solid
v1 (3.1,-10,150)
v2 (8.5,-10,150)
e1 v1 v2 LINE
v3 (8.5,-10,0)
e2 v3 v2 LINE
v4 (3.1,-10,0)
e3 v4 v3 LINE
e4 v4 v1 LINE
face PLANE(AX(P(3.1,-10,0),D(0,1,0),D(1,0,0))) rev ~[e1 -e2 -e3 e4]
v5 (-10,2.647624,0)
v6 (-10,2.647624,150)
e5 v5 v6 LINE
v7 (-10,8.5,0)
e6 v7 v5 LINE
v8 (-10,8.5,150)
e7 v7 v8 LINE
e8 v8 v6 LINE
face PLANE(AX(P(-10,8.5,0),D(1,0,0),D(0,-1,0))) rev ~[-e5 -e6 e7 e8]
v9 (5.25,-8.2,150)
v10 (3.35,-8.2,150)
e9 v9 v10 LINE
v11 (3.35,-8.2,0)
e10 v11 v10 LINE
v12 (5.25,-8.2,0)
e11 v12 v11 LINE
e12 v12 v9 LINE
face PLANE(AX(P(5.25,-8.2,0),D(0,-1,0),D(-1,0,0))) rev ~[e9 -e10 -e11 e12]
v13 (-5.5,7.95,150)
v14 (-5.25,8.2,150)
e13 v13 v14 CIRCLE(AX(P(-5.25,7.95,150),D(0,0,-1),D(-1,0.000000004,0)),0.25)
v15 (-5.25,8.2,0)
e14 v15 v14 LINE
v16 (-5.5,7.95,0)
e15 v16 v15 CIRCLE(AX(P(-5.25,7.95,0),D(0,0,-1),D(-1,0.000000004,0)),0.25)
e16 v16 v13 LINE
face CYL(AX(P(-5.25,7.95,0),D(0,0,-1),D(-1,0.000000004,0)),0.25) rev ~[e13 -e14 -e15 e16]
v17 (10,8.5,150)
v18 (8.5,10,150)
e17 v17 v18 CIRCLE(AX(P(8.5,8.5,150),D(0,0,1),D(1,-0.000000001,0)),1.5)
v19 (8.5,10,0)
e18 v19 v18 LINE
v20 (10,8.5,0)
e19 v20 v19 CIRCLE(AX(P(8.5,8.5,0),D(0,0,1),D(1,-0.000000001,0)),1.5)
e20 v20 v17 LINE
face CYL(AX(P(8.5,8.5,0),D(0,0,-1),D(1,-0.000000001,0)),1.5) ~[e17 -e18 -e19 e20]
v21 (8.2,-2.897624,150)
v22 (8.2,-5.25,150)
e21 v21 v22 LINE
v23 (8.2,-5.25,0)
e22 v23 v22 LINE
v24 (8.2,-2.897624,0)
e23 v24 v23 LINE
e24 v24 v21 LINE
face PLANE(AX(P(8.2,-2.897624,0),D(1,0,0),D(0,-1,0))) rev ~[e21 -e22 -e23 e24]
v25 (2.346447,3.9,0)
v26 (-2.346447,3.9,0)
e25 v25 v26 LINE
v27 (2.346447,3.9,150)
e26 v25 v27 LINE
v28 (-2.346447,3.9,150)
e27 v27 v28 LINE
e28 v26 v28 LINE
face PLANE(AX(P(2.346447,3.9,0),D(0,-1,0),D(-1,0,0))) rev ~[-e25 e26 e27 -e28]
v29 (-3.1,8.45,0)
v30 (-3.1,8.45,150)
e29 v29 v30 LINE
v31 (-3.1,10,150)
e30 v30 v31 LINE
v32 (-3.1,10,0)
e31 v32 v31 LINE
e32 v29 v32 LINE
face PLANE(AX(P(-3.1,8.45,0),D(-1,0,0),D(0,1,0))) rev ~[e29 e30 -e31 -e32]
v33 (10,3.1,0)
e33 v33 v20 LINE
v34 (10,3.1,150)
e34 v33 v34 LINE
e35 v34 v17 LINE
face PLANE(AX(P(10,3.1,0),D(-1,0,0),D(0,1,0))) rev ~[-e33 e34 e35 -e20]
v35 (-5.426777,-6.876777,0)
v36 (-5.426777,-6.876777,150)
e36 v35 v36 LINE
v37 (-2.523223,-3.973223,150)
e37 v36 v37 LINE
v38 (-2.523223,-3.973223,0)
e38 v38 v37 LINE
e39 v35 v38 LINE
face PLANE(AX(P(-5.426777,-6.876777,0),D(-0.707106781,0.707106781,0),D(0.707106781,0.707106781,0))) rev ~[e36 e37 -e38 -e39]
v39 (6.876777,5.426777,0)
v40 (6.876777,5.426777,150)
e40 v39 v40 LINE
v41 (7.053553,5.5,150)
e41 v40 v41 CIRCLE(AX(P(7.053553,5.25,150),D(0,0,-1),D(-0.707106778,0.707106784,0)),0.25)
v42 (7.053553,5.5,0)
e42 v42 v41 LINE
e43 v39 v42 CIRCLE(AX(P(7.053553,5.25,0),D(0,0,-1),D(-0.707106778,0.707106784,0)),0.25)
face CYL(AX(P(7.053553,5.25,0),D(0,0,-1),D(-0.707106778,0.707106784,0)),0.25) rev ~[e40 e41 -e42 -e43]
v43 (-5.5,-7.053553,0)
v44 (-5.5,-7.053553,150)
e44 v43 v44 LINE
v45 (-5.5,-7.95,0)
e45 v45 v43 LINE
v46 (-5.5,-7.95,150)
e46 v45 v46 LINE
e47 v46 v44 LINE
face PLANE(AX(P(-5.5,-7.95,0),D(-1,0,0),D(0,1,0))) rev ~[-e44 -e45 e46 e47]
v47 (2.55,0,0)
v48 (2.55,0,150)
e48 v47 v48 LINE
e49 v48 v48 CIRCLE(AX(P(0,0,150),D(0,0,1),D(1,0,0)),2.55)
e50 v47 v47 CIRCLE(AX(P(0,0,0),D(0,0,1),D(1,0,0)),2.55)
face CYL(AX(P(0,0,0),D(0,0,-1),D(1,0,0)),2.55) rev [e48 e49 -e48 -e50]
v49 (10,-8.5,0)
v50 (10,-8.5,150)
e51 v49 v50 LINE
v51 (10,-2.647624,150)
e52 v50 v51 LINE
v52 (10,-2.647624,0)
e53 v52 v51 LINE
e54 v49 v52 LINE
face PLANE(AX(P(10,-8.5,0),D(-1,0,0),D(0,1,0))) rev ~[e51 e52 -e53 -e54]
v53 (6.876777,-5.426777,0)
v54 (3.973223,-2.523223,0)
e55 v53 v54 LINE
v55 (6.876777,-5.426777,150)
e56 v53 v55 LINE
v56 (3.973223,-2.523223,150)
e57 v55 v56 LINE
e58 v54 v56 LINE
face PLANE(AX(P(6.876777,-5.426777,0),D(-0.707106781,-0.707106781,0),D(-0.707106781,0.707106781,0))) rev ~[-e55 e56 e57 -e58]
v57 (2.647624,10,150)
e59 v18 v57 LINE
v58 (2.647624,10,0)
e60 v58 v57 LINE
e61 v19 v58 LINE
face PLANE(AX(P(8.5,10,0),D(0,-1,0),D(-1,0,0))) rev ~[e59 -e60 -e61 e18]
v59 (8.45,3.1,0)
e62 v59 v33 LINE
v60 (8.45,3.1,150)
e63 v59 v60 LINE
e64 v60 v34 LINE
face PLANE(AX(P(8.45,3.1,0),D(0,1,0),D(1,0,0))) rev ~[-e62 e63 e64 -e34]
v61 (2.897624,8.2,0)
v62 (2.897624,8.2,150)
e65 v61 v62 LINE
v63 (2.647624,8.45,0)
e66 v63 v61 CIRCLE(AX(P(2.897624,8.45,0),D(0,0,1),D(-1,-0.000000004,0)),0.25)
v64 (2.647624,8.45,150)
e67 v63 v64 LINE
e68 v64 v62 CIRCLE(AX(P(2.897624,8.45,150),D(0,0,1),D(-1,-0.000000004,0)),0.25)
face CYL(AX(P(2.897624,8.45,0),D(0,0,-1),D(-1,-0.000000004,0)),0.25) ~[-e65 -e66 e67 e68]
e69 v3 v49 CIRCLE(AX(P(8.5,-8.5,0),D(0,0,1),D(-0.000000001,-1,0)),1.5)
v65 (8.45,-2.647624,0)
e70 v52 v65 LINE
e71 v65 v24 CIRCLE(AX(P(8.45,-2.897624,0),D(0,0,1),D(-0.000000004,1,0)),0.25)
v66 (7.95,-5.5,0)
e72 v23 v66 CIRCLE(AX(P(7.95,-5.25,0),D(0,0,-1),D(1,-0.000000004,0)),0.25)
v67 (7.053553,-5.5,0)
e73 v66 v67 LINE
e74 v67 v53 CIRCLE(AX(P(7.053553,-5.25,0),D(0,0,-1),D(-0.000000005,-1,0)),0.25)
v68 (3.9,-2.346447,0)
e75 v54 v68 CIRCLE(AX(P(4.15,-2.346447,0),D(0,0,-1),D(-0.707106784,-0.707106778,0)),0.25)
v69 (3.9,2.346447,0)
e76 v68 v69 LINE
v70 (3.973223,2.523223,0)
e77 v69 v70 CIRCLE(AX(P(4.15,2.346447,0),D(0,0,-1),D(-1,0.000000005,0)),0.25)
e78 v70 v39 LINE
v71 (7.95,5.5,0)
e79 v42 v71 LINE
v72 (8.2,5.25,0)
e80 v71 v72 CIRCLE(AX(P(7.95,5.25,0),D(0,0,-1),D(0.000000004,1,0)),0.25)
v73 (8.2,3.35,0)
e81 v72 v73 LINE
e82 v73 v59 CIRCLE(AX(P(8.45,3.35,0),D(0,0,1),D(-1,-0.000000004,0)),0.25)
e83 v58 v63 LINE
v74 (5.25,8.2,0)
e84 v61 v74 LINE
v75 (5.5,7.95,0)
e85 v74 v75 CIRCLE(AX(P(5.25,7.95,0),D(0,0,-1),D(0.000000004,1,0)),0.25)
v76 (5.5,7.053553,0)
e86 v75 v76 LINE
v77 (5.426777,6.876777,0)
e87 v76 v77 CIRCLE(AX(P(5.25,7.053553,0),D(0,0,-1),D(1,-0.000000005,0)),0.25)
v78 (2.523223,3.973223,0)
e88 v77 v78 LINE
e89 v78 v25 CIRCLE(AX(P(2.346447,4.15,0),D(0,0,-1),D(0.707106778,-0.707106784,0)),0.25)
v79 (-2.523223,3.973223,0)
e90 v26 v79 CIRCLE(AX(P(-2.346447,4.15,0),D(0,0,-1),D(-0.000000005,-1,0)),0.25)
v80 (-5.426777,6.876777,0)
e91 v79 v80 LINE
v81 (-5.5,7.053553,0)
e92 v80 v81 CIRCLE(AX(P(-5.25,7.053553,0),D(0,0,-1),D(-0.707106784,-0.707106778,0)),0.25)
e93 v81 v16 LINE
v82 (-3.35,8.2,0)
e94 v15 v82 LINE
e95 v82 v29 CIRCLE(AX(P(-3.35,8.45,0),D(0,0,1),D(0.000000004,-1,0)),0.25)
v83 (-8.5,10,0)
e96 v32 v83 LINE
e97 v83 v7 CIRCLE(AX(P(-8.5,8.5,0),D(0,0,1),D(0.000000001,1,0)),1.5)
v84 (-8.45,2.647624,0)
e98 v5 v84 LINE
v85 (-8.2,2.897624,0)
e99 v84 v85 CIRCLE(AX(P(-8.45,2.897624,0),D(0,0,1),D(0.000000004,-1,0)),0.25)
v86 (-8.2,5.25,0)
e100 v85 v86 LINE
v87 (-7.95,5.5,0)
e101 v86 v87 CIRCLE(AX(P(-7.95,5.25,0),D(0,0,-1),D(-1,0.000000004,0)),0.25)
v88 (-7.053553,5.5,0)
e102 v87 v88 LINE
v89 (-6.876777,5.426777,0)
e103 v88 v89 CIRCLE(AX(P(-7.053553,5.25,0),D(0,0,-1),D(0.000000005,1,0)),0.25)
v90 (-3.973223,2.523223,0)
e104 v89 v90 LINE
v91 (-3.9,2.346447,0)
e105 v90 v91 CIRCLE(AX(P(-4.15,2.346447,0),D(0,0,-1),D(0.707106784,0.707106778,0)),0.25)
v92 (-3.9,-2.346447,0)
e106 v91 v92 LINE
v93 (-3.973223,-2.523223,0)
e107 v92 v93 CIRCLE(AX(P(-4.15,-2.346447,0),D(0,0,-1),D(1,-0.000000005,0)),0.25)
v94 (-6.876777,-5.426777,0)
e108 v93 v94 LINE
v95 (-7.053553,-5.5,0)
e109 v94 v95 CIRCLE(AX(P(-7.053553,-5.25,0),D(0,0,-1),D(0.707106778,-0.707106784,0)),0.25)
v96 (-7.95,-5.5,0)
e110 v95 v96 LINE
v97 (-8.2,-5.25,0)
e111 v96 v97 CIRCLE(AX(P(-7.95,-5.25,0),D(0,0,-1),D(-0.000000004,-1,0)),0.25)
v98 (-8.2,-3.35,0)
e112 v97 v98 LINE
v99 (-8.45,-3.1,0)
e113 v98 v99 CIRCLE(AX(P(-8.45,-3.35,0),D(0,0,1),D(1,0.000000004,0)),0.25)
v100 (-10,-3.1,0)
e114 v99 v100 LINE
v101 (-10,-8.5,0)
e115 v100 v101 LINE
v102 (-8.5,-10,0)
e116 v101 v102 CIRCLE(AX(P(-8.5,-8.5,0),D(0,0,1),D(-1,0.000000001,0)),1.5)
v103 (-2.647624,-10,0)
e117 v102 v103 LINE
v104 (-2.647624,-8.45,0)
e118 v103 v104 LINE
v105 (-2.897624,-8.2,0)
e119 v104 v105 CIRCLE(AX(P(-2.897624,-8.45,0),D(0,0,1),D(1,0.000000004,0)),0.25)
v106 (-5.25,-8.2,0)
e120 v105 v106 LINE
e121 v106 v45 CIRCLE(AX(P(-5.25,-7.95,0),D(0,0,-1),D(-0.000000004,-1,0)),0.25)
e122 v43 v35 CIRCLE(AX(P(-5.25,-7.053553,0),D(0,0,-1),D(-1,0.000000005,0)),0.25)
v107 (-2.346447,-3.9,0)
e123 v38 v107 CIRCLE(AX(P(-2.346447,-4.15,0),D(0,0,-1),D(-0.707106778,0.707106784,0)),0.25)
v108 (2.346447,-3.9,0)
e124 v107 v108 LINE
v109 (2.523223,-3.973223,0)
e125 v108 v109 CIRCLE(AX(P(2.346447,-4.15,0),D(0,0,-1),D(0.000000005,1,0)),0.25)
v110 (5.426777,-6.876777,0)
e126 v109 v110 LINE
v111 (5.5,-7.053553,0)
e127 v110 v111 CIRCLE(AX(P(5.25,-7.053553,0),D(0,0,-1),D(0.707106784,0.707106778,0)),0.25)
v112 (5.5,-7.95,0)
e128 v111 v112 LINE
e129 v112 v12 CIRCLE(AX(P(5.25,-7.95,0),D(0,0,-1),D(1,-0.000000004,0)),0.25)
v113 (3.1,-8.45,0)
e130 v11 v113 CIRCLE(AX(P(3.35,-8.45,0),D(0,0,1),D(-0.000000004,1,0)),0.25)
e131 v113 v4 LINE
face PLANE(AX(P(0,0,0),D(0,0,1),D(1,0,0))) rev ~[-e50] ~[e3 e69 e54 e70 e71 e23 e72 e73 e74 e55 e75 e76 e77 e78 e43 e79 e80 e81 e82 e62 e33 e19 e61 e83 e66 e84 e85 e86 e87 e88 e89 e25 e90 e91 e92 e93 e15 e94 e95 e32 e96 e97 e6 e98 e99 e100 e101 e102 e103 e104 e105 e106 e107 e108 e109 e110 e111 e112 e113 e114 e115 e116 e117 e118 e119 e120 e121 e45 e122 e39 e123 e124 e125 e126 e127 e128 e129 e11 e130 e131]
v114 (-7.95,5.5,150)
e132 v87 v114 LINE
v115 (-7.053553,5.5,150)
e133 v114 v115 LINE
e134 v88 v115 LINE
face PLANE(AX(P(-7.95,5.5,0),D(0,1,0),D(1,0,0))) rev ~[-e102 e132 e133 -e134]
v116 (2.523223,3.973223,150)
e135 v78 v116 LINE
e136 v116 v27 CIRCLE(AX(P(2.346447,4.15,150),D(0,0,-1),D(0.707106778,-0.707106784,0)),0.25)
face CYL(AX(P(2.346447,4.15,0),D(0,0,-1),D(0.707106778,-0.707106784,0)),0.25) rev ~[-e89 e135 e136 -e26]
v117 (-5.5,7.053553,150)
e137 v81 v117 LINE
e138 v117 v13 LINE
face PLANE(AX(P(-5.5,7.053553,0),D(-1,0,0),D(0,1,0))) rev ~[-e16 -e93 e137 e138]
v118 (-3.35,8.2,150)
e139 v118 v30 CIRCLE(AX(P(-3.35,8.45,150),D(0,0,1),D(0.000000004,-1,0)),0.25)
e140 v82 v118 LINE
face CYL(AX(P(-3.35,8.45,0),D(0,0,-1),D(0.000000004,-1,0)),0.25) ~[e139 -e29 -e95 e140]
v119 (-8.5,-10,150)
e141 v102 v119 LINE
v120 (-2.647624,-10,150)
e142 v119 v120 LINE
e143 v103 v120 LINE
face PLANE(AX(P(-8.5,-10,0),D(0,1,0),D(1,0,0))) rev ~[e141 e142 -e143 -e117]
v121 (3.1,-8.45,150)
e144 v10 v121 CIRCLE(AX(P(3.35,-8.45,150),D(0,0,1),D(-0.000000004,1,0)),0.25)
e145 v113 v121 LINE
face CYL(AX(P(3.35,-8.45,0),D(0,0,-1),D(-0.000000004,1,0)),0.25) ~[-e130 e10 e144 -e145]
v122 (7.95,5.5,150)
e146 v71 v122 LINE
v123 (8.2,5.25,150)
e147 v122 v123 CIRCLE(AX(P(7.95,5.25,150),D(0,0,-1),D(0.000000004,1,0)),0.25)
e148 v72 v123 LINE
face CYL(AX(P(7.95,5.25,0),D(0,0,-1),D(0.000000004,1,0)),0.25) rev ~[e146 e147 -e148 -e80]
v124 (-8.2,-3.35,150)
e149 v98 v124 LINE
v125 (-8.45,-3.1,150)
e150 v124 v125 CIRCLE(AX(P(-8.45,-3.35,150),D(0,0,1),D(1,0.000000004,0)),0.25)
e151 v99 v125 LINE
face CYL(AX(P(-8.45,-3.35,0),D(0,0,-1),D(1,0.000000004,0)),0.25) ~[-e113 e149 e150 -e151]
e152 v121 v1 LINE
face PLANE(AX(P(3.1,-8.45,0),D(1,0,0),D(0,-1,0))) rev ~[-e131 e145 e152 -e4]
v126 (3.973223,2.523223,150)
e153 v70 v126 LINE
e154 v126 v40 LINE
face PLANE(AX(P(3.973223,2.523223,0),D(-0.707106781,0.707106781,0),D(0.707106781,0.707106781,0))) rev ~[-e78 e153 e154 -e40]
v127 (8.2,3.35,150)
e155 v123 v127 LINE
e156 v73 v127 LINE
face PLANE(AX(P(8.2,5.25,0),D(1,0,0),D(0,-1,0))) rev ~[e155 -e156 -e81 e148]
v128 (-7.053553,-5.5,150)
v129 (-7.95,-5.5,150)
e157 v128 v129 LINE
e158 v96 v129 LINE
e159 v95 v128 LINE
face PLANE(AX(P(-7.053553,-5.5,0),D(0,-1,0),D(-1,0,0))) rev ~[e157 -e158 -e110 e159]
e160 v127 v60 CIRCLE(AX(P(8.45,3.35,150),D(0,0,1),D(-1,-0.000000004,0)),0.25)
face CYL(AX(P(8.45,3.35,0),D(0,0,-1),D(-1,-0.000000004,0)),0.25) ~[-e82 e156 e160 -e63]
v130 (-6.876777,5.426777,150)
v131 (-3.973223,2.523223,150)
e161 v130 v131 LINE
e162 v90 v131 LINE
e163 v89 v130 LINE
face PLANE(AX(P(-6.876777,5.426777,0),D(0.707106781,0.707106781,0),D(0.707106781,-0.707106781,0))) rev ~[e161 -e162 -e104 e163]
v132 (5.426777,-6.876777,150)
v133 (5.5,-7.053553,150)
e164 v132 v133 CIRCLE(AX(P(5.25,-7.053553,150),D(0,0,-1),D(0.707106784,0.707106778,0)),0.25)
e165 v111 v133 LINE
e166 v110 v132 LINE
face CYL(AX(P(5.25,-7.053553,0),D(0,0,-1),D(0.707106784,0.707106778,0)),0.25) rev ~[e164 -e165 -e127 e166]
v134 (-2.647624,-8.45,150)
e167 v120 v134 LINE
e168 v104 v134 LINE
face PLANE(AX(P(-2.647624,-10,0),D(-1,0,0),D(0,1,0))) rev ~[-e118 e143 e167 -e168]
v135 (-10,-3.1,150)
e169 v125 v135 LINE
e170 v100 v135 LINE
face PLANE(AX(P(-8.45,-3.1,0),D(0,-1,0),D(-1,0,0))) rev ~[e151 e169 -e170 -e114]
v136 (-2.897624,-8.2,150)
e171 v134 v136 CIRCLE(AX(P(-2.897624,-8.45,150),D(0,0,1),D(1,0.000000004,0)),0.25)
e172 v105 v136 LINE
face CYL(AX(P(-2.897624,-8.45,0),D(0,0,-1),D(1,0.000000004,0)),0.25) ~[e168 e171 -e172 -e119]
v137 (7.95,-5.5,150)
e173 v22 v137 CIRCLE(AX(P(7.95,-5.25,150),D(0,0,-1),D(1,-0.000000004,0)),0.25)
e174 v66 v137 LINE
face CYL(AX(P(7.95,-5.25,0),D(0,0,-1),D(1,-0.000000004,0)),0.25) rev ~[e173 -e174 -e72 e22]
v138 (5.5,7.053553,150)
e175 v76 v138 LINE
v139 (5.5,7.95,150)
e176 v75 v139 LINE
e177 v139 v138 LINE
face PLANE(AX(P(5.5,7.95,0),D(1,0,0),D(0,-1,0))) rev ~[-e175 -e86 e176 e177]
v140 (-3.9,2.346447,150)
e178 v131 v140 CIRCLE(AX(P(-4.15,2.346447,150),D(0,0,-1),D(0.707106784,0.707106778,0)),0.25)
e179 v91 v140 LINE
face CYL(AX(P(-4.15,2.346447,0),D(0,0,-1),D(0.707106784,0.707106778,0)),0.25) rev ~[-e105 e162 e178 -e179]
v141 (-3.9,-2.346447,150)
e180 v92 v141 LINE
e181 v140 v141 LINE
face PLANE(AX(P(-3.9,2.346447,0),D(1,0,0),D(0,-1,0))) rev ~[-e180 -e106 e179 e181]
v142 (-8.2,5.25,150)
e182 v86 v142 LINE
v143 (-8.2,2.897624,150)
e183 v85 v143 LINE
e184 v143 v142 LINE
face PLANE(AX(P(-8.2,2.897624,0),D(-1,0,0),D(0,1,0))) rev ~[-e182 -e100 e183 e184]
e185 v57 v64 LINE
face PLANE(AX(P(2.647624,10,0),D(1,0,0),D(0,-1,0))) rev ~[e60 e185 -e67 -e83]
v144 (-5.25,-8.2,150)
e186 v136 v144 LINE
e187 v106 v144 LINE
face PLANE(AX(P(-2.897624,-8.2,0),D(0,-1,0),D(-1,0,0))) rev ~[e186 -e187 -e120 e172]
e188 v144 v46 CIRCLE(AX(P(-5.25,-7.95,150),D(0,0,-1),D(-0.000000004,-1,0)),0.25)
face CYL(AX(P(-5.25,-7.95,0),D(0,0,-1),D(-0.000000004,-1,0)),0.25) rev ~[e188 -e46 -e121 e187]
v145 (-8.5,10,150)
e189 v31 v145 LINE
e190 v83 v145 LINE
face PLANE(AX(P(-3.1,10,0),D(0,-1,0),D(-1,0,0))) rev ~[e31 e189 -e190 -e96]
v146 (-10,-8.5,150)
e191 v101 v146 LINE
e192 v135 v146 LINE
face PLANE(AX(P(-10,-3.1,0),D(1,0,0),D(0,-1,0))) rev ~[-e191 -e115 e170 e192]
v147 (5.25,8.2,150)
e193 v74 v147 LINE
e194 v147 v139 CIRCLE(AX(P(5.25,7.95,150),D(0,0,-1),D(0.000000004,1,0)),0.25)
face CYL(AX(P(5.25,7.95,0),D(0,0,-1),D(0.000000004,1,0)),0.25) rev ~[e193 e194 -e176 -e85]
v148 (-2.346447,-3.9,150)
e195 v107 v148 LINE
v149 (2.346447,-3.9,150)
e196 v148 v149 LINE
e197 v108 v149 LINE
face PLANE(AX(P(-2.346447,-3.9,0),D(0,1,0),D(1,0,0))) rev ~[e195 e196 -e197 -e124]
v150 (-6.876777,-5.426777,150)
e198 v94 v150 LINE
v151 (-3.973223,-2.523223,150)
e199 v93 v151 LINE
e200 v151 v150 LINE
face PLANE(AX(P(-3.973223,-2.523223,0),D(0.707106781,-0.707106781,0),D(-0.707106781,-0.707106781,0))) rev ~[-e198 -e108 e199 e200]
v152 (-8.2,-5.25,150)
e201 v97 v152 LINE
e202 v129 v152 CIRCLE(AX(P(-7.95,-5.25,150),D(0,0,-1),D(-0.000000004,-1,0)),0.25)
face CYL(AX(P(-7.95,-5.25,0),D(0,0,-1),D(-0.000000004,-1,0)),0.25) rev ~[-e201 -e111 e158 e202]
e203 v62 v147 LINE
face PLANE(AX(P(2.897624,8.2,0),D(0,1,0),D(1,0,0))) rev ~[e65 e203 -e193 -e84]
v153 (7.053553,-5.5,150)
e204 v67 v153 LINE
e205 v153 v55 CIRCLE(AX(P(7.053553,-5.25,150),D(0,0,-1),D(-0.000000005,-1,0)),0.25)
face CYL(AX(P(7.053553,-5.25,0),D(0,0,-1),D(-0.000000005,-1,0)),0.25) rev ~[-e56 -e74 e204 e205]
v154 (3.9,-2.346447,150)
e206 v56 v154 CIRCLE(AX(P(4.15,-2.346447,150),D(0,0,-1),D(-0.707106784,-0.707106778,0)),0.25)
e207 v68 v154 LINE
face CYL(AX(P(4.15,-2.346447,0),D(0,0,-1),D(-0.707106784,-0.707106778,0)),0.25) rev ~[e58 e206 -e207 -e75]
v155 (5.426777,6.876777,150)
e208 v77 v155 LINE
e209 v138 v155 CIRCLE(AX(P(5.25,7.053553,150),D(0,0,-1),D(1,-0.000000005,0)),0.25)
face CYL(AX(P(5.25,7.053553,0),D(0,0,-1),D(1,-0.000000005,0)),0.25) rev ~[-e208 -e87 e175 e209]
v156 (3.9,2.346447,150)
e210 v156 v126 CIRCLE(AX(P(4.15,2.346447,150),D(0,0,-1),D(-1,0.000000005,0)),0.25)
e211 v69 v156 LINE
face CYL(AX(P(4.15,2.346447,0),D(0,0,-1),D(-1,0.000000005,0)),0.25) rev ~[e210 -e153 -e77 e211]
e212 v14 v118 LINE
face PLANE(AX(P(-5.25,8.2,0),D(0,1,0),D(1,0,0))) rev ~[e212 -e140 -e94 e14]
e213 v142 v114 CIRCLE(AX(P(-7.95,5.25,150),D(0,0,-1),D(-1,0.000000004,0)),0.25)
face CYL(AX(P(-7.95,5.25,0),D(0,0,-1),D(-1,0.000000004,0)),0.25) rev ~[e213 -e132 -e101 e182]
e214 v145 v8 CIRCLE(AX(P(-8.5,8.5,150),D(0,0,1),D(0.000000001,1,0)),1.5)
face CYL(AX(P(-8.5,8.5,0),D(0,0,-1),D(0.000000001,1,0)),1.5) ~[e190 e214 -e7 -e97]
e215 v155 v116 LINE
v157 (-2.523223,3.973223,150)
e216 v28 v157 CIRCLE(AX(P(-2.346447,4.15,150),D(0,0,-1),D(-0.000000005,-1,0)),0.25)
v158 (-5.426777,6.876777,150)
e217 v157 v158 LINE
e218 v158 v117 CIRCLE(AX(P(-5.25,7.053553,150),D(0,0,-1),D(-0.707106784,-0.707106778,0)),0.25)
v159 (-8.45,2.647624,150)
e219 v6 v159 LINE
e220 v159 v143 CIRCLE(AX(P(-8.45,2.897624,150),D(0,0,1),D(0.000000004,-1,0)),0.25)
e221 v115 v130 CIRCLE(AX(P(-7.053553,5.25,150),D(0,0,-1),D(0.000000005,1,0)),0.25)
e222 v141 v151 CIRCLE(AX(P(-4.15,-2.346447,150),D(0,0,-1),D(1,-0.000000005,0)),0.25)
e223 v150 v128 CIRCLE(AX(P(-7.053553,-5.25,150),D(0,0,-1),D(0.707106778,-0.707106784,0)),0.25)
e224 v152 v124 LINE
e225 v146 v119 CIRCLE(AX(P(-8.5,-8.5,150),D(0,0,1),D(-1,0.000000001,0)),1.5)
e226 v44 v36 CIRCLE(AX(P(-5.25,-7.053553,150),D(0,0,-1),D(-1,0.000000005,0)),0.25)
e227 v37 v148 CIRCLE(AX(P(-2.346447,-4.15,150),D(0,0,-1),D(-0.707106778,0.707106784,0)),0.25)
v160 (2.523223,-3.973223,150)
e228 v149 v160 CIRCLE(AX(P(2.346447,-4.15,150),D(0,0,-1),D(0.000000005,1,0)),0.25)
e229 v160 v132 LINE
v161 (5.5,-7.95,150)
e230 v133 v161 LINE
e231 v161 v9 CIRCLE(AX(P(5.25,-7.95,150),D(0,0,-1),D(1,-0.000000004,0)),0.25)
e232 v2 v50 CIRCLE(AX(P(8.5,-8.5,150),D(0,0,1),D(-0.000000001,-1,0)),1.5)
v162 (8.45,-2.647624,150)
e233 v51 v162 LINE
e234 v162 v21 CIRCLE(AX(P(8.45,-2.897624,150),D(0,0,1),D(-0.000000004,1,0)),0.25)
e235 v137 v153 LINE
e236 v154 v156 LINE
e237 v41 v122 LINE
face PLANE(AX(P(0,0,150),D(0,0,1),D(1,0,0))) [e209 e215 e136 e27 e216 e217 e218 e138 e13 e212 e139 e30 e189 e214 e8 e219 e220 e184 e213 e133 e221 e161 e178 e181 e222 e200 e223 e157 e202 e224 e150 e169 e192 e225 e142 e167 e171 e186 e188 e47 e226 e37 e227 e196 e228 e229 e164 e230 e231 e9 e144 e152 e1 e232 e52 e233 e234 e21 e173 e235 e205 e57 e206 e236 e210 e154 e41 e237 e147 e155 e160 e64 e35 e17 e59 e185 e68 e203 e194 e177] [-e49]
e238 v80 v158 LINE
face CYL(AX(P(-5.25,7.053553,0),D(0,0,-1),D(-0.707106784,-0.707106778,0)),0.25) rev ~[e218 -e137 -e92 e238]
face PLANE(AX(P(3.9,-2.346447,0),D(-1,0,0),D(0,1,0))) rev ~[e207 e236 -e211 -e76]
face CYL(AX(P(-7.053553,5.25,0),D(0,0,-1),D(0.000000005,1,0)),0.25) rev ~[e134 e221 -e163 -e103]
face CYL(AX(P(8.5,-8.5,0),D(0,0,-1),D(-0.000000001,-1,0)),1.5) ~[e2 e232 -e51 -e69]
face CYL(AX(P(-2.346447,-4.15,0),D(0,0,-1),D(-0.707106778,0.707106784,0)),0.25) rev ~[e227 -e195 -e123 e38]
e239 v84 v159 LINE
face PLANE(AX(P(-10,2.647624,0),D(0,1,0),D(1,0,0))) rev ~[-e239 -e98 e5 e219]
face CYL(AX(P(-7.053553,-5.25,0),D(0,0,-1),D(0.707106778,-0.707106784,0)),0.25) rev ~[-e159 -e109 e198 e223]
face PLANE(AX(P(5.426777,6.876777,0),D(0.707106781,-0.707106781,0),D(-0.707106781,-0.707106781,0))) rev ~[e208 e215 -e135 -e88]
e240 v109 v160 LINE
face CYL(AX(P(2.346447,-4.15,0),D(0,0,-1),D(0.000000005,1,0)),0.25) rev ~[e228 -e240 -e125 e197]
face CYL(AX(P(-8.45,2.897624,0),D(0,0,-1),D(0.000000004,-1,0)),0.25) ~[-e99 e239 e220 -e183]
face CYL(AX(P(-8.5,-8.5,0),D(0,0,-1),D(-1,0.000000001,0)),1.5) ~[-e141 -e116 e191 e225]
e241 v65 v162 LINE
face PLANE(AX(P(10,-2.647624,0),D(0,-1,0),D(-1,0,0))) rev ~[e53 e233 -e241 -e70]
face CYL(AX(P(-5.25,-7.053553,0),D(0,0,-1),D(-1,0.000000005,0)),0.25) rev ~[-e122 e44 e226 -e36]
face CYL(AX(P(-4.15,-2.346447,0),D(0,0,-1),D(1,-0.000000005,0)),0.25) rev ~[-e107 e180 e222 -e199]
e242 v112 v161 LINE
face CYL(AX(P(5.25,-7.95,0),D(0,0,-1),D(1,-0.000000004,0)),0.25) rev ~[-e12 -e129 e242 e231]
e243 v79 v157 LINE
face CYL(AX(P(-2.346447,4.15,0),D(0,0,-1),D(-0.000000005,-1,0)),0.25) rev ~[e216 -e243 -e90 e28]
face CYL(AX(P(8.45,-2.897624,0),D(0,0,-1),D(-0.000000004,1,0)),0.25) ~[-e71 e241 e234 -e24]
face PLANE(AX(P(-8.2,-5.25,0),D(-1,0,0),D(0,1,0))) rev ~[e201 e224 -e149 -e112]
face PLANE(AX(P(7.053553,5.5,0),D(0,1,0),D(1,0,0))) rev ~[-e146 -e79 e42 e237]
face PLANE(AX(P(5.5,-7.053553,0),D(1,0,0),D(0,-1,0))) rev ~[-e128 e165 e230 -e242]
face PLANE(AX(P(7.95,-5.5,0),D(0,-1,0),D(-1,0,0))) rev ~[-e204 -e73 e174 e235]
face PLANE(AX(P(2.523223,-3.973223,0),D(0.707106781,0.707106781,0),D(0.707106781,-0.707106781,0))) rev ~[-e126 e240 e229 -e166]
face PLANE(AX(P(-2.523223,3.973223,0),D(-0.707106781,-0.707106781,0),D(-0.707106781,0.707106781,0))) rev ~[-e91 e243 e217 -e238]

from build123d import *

# Parameters (mm, degrees)
SKETCH1_R           = 2.55
BOSS_EXTRUDE1_DEPTH = 150


with BuildPart() as part:
    # Sketch1 → Boss-Extrude1 (new body)
    with BuildSketch(Plane.XY):
        with BuildLine():
            Line((-8.5, -10), (-2.647623804, -10))
            Line((-2.647623804, -10), (-2.647623804, -8.45))
            ThreePointArc((-2.647623804, -8.45), (-2.720847109, -8.273223305), (-2.897623804, -8.2))
            Line((-2.897623804, -8.2), (-5.25, -8.2))
            ThreePointArc((-5.25, -8.2), (-5.426776695, -8.126776695), (-5.5, -7.95))
            Line((-5.5, -7.95), (-5.5, -7.053553391))
            ThreePointArc((-5.5, -7.053553391), (-5.480969883, -6.957882533), (-5.426776695, -6.876776695))
            Line((-5.426776695, -6.876776695), (-2.523223305, -3.973223305))
            ThreePointArc((-2.523223305, -3.973223305), (-2.442117467, -3.919030117), (-2.346446609, -3.9))
            Line((-2.346446609, -3.9), (2.346446609, -3.9))
            ThreePointArc((2.346446609, -3.9), (2.442117467, -3.919030117), (2.523223305, -3.973223305))
            Line((2.523223305, -3.973223305), (5.426776695, -6.876776695))
            ThreePointArc((5.426776695, -6.876776695), (5.480969883, -6.957882533), (5.5, -7.053553391))
            Line((5.5, -7.053553391), (5.5, -7.95))
            ThreePointArc((5.5, -7.95), (5.426776695, -8.126776695), (5.25, -8.2))
            Line((5.25, -8.2), (3.35, -8.2))
            ThreePointArc((3.35, -8.2), (3.173223305, -8.273223305), (3.1, -8.45))
            Line((3.1, -8.45), (3.1, -10))
            Line((3.1, -10), (8.5, -10))
            ThreePointArc((8.5, -10), (9.560660172, -9.560660172), (10, -8.5))
            Line((10, -8.5), (10, -2.647623804))
            Line((10, -2.647623804), (8.45, -2.647623804))
            ThreePointArc((8.45, -2.647623804), (8.273223305, -2.720847109), (8.2, -2.897623804))
            Line((8.2, -2.897623804), (8.2, -5.25))
            ThreePointArc((8.2, -5.25), (8.126776695, -5.426776695), (7.95, -5.5))
            Line((7.95, -5.5), (7.053553391, -5.5))
            ThreePointArc((7.053553391, -5.5), (6.957882533, -5.480969883), (6.876776695, -5.426776695))
            Line((6.876776695, -5.426776695), (3.973223305, -2.523223305))
            ThreePointArc((3.973223305, -2.523223305), (3.919030117, -2.442117467), (3.9, -2.346446609))
            Line((3.9, -2.346446609), (3.9, 2.346446609))
            ThreePointArc((3.9, 2.346446609), (3.919030117, 2.442117467), (3.973223305, 2.523223305))
            Line((3.973223305, 2.523223305), (6.876776695, 5.426776695))
            ThreePointArc((6.876776695, 5.426776695), (6.957882533, 5.480969883), (7.053553391, 5.5))
            Line((7.053553391, 5.5), (7.95, 5.5))
            ThreePointArc((7.95, 5.5), (8.126776695, 5.426776695), (8.2, 5.25))
            Line((8.2, 5.25), (8.2, 3.35))
            ThreePointArc((8.2, 3.35), (8.273223305, 3.173223305), (8.45, 3.1))
            Line((8.45, 3.1), (10, 3.1))
            Line((10, 3.1), (10, 8.5))
            ThreePointArc((10, 8.5), (9.560660172, 9.560660172), (8.5, 10))
            Line((8.5, 10), (2.647623804, 10))
            Line((2.647623804, 10), (2.647623804, 8.45))
            ThreePointArc((2.647623804, 8.45), (2.720847109, 8.273223305), (2.897623804, 8.2))
            Line((2.897623804, 8.2), (5.25, 8.2))
            ThreePointArc((5.25, 8.2), (5.426776695, 8.126776695), (5.5, 7.95))
            Line((5.5, 7.95), (5.5, 7.053553391))
            ThreePointArc((5.5, 7.053553391), (5.480969883, 6.957882533), (5.426776695, 6.876776695))
            Line((5.426776695, 6.876776695), (2.523223305, 3.973223305))
            ThreePointArc((2.523223305, 3.973223305), (2.442117467, 3.919030117), (2.346446609, 3.9))
            Line((2.346446609, 3.9), (-2.346446609, 3.9))
            ThreePointArc((-2.346446609, 3.9), (-2.442117467, 3.919030117), (-2.523223305, 3.973223305))
            Line((-2.523223305, 3.973223305), (-5.426776695, 6.876776695))
            ThreePointArc((-5.426776695, 6.876776695), (-5.480969883, 6.957882533), (-5.5, 7.053553391))
            Line((-5.5, 7.053553391), (-5.5, 7.95))
            ThreePointArc((-5.5, 7.95), (-5.426776695, 8.126776695), (-5.25, 8.2))
            Line((-5.25, 8.2), (-3.35, 8.2))
            ThreePointArc((-3.35, 8.2), (-3.173223305, 8.273223305), (-3.1, 8.45))
            Line((-3.1, 8.45), (-3.1, 10))
            Line((-3.1, 10), (-8.5, 10))
            ThreePointArc((-8.5, 10), (-9.560660172, 9.560660172), (-10, 8.5))
            Line((-10, 8.5), (-10, 2.647623804))
            Line((-10, 2.647623804), (-8.45, 2.647623804))
            ThreePointArc((-8.45, 2.647623804), (-8.273223305, 2.720847109), (-8.2, 2.897623804))
            Line((-8.2, 2.897623804), (-8.2, 5.25))
            ThreePointArc((-8.2, 5.25), (-8.126776695, 5.426776695), (-7.95, 5.5))
            Line((-7.95, 5.5), (-7.053553391, 5.5))
            ThreePointArc((-7.053553391, 5.5), (-6.957882533, 5.480969883), (-6.876776695, 5.426776695))
            Line((-6.876776695, 5.426776695), (-3.973223305, 2.523223305))
            ThreePointArc((-3.973223305, 2.523223305), (-3.919030117, 2.442117467), (-3.9, 2.346446609))
            Line((-3.9, 2.346446609), (-3.9, -2.346446609))
            ThreePointArc((-3.9, -2.346446609), (-3.919030117, -2.442117467), (-3.973223305, -2.523223305))
            Line((-3.973223305, -2.523223305), (-6.876776695, -5.426776695))
            ThreePointArc((-6.876776695, -5.426776695), (-6.957882533, -5.480969883), (-7.053553391, -5.5))
            Line((-7.053553391, -5.5), (-7.95, -5.5))
            ThreePointArc((-7.95, -5.5), (-8.126776695, -5.426776695), (-8.2, -5.25))
            Line((-8.2, -5.25), (-8.2, -3.35))
            ThreePointArc((-8.2, -3.35), (-8.273223305, -3.173223305), (-8.45, -3.1))
            Line((-8.45, -3.1), (-10, -3.1))
            Line((-10, -3.1), (-10, -8.5))
            ThreePointArc((-10, -8.5), (-9.560660172, -9.560660172), (-8.5, -10))
        make_face()
        Circle(SKETCH1_R, mode=Mode.SUBTRACT)
    extrude(amount=BOSS_EXTRUDE1_DEPTH)


solid = part.part
